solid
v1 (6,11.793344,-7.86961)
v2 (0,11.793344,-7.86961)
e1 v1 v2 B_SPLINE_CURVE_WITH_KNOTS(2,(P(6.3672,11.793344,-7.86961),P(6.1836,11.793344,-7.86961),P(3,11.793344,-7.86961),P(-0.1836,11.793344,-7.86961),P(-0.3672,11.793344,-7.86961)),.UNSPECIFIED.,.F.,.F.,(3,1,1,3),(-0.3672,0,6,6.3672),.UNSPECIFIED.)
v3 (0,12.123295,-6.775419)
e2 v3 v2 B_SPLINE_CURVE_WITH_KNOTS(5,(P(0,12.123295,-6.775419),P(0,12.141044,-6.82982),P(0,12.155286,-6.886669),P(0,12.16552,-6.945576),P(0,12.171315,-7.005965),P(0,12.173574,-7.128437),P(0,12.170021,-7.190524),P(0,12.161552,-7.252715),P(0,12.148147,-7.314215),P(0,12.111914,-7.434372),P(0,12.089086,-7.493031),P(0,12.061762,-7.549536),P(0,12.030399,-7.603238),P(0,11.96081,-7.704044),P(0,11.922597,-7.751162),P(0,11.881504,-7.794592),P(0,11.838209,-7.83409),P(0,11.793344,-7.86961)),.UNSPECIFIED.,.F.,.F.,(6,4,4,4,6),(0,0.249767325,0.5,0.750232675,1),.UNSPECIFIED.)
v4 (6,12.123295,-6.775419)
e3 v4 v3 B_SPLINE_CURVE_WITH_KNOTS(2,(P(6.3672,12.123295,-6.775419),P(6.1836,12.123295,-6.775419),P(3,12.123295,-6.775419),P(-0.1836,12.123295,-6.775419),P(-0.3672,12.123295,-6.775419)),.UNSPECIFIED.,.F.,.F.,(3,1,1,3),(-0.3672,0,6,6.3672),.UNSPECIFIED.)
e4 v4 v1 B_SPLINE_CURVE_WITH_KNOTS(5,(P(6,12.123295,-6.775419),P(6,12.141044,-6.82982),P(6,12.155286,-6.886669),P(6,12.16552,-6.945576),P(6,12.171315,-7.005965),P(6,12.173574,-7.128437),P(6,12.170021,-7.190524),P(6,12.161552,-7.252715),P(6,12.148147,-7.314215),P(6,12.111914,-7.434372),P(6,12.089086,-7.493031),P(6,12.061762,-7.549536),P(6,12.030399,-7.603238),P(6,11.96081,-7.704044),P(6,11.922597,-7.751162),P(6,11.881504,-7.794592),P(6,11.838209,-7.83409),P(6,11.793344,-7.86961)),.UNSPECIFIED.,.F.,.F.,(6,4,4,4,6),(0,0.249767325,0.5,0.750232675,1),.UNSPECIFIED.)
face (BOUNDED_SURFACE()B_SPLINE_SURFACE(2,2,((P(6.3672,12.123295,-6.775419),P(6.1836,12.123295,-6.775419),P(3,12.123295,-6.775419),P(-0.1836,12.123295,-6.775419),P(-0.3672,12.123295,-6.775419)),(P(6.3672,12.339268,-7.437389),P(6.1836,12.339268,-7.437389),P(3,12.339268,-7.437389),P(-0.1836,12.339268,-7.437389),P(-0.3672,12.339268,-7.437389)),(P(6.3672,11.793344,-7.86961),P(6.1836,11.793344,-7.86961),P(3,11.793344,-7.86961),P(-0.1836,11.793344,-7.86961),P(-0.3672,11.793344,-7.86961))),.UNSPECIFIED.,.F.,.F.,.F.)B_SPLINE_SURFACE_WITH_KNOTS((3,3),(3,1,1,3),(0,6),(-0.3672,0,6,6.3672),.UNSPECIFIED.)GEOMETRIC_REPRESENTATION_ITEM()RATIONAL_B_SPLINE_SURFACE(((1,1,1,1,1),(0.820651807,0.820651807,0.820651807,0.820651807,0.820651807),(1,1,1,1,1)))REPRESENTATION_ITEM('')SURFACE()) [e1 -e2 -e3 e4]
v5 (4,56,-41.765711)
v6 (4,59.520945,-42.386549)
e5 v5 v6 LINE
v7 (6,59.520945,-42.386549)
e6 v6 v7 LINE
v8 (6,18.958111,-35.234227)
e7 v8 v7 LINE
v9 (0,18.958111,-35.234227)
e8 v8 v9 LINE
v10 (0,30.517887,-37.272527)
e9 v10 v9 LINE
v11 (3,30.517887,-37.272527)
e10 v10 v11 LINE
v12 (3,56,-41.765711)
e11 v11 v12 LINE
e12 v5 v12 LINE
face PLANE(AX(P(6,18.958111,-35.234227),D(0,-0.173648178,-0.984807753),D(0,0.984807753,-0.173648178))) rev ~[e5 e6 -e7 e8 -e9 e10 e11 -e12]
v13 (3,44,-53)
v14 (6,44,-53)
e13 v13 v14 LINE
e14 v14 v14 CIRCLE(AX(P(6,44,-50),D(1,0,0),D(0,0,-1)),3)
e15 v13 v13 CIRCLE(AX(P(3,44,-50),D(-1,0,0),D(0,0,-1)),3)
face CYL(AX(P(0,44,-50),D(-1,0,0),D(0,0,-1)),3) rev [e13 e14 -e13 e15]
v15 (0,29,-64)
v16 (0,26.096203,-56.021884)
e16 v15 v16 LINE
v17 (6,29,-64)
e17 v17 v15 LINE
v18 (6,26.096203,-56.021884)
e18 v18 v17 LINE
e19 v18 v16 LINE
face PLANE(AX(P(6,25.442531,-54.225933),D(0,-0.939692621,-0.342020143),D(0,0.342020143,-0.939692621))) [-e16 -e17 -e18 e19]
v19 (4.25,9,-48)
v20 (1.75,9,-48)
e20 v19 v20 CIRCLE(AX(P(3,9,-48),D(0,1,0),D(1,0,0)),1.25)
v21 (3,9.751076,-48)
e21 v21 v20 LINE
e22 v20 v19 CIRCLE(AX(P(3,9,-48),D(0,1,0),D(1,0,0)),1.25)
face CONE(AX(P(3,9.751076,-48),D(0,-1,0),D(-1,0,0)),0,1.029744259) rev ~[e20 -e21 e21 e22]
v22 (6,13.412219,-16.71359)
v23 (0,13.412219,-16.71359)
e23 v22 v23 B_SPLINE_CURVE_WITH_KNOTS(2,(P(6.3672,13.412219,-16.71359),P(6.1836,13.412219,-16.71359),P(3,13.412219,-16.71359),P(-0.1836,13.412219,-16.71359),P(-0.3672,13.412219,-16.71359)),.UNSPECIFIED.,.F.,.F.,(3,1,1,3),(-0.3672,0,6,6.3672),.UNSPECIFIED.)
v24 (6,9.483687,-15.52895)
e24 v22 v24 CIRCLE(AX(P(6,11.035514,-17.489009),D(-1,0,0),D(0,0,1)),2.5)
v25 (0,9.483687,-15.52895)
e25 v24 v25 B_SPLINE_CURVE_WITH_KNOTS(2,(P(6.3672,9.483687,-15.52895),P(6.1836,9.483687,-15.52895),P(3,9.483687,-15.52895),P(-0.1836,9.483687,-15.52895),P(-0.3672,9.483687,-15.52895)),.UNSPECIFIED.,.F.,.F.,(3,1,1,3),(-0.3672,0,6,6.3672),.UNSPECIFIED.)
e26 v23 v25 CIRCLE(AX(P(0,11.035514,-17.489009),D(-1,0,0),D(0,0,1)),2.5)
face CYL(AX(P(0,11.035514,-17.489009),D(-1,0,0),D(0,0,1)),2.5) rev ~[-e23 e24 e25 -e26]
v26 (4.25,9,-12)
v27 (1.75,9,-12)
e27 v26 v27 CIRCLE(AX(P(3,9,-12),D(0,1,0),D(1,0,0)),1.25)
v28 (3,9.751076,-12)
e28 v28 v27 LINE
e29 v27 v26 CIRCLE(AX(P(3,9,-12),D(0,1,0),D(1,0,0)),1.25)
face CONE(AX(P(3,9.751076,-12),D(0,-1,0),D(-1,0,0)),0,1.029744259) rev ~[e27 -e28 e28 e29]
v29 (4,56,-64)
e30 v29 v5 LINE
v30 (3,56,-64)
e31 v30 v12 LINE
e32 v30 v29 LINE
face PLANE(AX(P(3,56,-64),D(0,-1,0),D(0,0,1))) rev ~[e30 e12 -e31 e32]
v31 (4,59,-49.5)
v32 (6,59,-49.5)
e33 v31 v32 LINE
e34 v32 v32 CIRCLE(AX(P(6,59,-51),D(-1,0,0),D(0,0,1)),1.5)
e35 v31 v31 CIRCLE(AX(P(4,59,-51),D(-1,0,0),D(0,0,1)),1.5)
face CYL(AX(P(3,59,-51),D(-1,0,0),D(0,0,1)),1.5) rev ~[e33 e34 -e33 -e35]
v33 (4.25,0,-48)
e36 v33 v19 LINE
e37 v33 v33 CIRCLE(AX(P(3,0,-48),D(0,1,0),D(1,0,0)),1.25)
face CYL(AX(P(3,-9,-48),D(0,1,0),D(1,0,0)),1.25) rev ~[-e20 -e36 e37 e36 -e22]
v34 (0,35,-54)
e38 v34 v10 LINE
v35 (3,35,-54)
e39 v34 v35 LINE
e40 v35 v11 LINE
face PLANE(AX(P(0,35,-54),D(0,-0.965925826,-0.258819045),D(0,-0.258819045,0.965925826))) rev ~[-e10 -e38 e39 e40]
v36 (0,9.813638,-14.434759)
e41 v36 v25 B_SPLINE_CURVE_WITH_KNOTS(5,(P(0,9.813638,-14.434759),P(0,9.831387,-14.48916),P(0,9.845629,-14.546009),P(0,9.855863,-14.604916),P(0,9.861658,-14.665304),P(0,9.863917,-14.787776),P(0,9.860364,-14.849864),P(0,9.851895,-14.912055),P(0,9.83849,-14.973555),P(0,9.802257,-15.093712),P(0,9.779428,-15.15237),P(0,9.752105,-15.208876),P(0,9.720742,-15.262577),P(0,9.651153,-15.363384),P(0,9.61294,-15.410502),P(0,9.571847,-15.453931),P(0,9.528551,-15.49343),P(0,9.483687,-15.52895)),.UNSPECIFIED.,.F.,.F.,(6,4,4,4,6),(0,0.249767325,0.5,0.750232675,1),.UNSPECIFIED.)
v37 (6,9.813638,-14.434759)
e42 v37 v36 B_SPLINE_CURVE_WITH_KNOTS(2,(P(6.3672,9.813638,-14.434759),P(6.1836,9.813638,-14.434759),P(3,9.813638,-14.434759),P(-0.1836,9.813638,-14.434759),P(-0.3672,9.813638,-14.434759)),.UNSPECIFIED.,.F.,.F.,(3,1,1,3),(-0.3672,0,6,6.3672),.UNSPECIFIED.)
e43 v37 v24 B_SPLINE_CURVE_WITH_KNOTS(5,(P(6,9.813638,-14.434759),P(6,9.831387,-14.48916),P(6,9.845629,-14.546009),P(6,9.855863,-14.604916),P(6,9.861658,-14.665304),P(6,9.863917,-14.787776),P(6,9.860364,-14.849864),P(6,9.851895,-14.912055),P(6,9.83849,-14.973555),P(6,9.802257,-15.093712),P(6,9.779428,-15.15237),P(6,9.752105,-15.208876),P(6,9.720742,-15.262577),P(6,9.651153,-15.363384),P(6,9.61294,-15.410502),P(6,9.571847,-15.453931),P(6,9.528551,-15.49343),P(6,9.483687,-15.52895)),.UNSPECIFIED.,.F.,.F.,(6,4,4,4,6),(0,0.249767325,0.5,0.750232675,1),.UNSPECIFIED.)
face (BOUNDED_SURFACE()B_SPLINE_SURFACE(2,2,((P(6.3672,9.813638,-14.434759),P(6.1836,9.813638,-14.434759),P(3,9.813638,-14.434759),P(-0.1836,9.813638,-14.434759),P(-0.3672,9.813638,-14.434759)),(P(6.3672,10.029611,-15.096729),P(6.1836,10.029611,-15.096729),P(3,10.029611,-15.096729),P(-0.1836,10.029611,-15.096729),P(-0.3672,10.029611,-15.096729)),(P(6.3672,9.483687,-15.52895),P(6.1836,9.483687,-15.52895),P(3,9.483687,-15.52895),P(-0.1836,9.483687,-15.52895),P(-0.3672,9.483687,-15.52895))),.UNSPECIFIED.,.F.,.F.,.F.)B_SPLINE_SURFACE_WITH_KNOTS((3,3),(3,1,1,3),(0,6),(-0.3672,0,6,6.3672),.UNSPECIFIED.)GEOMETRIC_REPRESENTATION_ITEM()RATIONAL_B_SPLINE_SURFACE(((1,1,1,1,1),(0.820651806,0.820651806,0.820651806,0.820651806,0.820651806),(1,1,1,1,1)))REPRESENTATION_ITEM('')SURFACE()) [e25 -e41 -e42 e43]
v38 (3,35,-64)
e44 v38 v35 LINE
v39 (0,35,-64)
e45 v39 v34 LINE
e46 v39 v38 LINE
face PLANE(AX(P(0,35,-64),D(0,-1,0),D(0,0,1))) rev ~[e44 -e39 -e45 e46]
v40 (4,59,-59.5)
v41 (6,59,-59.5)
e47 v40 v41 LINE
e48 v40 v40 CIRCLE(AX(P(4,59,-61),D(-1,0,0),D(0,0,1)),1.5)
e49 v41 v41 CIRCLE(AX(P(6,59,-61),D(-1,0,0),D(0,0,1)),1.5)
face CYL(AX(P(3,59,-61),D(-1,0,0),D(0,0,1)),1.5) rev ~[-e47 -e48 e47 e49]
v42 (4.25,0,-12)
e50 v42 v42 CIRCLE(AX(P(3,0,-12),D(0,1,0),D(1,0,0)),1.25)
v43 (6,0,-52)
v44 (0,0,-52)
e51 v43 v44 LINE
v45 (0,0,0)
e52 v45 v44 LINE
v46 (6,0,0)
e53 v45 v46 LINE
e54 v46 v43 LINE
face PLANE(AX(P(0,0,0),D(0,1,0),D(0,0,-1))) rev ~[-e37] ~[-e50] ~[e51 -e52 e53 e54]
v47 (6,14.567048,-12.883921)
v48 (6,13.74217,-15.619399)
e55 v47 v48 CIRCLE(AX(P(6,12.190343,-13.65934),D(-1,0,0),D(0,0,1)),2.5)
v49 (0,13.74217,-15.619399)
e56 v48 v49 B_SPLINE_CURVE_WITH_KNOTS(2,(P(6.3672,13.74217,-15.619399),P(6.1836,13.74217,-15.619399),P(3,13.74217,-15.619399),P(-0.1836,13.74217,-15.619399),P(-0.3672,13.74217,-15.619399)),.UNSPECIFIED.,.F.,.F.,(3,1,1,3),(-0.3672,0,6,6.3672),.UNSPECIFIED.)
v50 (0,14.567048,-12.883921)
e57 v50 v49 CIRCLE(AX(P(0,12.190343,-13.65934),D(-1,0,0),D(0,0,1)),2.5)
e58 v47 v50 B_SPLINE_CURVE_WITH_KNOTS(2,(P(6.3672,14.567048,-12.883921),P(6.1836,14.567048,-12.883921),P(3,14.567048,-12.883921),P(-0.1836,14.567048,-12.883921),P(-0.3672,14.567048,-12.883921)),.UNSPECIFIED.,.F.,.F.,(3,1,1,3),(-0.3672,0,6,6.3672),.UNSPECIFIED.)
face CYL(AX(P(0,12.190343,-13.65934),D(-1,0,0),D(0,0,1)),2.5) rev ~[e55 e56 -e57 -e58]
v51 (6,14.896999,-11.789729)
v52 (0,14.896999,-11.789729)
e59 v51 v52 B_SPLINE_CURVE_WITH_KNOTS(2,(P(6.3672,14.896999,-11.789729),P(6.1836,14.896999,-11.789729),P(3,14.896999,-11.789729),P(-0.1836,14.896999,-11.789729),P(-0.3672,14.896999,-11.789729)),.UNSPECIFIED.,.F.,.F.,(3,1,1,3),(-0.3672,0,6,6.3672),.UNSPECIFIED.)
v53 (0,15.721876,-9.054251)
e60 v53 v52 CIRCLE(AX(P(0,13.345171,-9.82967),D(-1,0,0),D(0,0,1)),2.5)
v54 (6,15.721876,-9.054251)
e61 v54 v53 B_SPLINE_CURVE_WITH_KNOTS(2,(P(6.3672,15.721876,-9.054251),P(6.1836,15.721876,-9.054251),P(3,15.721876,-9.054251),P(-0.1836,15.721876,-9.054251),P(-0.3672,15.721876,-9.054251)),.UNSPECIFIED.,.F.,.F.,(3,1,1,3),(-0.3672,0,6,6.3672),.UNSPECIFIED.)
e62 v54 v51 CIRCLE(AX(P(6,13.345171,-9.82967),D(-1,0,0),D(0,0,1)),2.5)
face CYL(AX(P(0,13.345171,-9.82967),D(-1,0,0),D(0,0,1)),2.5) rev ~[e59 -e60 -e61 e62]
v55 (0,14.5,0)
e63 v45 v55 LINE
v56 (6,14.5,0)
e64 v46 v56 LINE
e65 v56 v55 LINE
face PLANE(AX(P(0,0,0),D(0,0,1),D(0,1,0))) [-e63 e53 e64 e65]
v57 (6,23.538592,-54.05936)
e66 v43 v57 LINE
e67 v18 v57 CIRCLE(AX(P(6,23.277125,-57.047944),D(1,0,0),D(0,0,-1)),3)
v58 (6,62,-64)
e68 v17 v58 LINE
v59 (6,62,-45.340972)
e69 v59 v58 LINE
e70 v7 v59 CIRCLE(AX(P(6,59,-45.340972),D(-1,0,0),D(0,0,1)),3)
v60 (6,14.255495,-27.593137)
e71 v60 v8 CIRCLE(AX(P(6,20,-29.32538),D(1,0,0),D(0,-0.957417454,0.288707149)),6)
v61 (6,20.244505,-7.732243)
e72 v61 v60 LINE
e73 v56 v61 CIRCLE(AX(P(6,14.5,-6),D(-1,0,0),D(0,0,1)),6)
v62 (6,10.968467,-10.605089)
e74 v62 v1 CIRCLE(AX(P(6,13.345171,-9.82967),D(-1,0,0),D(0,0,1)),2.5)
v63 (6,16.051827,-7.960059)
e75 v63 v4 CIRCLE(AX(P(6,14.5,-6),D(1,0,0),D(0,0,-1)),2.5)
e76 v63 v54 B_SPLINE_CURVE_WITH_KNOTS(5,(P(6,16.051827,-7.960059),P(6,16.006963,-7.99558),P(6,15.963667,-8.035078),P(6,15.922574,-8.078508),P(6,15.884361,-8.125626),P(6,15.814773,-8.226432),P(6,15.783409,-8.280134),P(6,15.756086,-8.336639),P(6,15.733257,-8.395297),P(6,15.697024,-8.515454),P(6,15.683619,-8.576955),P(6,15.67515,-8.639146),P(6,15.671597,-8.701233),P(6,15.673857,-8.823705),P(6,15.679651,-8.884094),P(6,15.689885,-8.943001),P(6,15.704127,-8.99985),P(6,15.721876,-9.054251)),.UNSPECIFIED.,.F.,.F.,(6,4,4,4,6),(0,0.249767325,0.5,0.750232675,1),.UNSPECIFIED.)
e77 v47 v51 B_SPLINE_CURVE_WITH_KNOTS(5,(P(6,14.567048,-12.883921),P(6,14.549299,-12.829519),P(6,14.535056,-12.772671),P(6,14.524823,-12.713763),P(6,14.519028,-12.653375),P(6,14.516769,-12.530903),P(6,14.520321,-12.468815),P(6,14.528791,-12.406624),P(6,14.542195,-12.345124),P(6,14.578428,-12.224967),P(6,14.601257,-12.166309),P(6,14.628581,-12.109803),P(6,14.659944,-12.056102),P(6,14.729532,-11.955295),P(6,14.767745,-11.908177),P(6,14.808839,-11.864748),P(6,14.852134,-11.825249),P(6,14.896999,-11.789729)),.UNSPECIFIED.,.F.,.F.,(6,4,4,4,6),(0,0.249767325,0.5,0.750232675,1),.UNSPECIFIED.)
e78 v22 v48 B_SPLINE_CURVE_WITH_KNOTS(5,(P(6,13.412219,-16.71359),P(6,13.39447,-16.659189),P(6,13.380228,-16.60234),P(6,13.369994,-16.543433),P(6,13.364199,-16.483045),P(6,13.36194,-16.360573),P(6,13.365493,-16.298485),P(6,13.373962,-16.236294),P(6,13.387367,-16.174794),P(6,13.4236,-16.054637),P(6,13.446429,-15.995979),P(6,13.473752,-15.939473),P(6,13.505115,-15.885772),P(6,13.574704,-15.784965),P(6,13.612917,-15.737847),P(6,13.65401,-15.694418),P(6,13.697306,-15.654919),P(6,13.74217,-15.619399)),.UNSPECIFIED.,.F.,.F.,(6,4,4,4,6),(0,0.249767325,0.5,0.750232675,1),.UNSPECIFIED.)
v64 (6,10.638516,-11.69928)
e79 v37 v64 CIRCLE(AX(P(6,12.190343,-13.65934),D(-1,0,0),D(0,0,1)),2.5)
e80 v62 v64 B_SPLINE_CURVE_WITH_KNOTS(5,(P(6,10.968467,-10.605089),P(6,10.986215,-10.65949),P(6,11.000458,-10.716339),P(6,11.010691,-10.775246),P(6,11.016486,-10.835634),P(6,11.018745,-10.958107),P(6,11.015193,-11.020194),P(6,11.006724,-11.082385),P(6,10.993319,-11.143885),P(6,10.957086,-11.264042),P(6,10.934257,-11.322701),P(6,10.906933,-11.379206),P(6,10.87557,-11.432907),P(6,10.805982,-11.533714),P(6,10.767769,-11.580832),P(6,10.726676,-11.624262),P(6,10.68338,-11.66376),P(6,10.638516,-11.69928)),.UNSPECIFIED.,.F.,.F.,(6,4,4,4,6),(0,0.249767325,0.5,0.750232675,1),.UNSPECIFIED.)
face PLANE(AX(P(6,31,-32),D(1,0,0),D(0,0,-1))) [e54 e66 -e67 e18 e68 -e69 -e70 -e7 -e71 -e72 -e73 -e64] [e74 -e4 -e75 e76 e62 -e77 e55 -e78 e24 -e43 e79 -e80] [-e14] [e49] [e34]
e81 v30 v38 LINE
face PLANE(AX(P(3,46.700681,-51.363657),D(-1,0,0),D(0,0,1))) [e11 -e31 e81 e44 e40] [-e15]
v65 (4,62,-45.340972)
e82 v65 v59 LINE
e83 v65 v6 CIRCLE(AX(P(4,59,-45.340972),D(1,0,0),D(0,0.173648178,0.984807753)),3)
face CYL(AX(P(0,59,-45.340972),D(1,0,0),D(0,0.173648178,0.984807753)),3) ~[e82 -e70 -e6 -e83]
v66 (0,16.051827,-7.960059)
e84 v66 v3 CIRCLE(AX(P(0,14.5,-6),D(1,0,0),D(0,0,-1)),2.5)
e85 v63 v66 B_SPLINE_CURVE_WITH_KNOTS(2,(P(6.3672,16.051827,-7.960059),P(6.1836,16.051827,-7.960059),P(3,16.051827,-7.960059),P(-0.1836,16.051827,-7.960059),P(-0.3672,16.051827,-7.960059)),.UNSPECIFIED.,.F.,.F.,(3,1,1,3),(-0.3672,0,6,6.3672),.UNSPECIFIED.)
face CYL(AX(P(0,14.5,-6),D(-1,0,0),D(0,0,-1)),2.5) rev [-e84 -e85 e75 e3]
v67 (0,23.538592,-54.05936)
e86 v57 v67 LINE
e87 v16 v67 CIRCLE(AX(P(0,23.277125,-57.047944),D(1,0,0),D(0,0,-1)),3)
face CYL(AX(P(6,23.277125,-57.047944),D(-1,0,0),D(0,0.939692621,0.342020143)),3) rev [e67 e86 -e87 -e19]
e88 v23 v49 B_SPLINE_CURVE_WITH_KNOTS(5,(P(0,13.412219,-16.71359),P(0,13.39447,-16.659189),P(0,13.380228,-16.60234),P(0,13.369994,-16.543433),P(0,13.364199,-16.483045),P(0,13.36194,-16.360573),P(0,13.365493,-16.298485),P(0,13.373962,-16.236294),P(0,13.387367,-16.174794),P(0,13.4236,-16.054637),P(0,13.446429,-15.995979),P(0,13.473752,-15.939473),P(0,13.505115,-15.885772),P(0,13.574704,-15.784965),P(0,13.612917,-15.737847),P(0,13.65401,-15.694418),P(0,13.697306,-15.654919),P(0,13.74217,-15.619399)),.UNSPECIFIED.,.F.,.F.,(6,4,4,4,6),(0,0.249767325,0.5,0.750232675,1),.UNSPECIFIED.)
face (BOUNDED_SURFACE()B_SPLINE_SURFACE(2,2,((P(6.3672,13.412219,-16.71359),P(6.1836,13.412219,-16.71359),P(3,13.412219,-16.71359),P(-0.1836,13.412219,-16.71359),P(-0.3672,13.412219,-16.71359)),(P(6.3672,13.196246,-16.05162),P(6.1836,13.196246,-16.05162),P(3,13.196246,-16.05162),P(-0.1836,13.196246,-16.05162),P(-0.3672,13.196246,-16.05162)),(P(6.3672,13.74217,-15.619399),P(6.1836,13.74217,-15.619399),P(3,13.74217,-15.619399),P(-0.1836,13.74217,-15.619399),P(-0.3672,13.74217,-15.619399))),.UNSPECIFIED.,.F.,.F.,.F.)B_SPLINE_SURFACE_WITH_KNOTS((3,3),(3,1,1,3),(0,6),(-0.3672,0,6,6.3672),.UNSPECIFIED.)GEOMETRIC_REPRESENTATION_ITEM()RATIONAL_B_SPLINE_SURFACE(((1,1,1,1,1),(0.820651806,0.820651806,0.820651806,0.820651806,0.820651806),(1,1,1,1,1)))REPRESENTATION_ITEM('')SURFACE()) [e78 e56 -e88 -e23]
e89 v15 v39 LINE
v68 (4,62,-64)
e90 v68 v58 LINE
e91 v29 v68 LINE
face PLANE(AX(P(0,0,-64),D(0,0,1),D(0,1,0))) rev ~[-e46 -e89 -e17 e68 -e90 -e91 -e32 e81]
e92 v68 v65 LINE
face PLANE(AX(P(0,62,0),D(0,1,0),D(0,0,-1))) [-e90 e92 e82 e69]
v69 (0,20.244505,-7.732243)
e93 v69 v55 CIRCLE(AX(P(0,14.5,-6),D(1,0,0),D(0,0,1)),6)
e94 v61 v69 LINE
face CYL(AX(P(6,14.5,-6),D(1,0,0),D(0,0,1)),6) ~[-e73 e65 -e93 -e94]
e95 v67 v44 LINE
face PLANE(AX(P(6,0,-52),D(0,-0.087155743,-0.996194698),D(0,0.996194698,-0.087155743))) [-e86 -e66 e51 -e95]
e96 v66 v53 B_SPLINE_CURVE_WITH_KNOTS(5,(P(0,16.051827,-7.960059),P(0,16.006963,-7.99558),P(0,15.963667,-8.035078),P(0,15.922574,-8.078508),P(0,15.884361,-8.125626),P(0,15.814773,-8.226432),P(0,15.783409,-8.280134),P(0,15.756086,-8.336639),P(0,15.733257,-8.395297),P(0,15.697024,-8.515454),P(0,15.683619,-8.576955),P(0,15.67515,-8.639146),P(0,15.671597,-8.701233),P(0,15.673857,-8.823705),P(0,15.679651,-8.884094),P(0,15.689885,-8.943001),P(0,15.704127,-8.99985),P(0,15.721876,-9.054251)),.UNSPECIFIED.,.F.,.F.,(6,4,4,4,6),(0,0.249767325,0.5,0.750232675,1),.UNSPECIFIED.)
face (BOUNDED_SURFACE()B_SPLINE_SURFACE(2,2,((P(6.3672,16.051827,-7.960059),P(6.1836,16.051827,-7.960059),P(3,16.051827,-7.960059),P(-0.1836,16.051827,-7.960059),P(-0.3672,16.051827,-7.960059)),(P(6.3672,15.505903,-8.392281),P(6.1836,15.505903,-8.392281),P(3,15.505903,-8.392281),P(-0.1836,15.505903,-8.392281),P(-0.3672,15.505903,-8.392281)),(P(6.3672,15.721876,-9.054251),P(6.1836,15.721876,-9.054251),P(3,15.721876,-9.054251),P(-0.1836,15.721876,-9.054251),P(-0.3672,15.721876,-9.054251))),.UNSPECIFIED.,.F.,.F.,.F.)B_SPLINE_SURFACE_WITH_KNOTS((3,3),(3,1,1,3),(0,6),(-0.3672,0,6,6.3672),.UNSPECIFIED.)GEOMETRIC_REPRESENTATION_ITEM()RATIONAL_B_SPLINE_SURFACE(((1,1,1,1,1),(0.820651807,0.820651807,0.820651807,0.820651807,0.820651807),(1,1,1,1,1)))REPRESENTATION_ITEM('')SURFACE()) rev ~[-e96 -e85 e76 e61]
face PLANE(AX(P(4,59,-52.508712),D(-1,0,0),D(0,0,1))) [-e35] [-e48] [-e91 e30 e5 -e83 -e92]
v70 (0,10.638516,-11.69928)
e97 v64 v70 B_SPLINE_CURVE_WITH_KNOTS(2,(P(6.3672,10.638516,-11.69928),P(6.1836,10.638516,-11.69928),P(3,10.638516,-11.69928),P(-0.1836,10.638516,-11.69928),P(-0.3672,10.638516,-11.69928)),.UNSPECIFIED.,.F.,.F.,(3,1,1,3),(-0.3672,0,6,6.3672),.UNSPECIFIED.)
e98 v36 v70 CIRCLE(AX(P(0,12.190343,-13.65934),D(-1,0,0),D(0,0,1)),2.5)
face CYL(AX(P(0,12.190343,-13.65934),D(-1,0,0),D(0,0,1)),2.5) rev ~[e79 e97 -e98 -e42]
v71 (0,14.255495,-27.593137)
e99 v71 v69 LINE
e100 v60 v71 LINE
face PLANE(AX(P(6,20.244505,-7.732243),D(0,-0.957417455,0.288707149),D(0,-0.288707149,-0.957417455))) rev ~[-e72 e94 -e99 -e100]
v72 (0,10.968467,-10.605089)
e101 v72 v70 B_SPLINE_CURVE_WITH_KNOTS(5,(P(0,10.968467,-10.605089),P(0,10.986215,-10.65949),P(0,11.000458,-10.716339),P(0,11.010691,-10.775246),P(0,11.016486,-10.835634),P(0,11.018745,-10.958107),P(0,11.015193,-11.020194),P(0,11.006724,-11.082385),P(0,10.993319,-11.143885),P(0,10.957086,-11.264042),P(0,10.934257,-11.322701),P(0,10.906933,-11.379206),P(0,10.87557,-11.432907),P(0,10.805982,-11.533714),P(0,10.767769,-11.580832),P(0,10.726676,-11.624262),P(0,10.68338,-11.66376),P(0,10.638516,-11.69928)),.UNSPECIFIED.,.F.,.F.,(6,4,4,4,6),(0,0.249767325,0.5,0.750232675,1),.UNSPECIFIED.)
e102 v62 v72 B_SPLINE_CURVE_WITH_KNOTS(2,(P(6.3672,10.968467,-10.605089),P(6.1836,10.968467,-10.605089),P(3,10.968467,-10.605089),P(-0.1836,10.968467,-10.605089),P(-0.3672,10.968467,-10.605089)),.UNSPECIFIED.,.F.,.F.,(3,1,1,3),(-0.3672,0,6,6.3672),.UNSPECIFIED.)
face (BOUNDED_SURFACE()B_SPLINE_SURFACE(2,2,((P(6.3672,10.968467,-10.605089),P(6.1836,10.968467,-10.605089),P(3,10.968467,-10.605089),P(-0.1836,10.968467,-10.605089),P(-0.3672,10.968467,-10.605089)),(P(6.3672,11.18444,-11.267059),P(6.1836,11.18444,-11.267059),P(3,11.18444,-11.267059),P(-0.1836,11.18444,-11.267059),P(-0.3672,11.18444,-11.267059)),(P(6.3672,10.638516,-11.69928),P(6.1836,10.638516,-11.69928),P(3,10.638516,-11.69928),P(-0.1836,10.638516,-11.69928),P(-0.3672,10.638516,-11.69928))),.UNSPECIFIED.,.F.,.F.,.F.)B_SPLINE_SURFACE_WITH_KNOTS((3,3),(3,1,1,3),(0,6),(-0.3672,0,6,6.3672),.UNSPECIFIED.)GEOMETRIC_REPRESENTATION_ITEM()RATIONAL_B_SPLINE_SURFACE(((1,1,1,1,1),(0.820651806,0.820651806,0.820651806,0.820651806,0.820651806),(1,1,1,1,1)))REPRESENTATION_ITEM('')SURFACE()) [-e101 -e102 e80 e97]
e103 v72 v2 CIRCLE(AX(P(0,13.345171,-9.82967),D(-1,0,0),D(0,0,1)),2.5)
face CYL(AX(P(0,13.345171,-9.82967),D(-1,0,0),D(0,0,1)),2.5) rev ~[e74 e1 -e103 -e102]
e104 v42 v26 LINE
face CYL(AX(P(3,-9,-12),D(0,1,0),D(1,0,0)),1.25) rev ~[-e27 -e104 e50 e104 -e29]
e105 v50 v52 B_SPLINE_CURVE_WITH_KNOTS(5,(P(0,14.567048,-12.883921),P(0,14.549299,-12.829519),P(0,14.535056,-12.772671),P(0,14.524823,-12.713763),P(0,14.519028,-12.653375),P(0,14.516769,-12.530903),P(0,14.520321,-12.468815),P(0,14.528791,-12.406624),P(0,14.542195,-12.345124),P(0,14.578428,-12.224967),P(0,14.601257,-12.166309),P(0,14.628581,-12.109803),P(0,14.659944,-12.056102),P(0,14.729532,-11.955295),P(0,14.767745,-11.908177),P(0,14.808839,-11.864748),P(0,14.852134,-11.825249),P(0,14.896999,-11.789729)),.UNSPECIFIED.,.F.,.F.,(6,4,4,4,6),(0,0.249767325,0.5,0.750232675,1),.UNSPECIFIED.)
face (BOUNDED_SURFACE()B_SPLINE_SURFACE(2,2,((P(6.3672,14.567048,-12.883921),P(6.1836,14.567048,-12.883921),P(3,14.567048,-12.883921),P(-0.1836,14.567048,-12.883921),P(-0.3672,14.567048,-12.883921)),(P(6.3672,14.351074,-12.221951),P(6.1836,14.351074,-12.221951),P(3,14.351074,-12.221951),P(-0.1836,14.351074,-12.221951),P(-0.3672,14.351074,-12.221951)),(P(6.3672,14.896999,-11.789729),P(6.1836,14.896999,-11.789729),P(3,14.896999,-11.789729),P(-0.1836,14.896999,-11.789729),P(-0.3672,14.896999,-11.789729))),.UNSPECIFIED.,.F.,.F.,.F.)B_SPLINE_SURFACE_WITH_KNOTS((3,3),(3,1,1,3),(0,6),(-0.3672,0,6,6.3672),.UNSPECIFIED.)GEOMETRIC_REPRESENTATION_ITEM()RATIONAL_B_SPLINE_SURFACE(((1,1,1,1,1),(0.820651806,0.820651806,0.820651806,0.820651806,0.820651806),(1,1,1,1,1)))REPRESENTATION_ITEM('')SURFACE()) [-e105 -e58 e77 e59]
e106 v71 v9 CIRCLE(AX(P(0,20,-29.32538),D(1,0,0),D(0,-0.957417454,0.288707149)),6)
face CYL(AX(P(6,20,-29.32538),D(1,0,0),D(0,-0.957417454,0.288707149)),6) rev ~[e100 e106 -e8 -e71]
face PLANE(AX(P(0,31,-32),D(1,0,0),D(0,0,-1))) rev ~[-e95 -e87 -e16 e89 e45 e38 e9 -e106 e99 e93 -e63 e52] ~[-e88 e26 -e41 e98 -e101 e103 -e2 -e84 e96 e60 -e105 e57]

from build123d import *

# Parameters (mm, degrees)
SKETCH1_W                   = 64
SKETCH1_H                   = 62
SKETCH1_R                   = 2.5
SKETCH1_R_2                 = 3
BOSS_EXTRUDE1_DEPTH         = 6
CUT_EXTRUDE1_REACH          = 8
CUT_EXTRUDE2_REACH          = 8
FILLET1_R                   = 3
FILLET2_R                   = 3
TAP_DRILL_FOR_M3_TAP1_D     = 2.5
TAP_DRILL_FOR_M3_TAP1_DEPTH = 9
TAP_DRILL_FOR_M3_TAP1_TIP   = 0.751075774
CUT_EXTRUDE3_DEPTH          = 3
CUT_EXTRUDE4_REACH          = 5
SKETCH10_R                  = 1.5
SKETCH11_R                  = 2.5
CUT_EXTRUDE5_DEPTH          = 6
LPATTERN1_COUNT             = 3
LPATTERN1_PITCH             = 4
FILLET3_R                   = 1
SKETCH12_W                  = 22.982575198
SKETCH12_H                  = 6
CUT_EXTRUDE6_DEPTH          = 1


with BuildPart() as part:
    # Sketch1 → Boss-Extrude1 (new body)
    with BuildSketch(Plane(origin=(0, 0, 0), x_dir=(0, 0, -1), z_dir=(1, 0, 0))):
        with Locations((32, 31)):
            Rectangle(SKETCH1_W, SKETCH1_H)
        with Locations((6, 14.5)):
            Circle(SKETCH1_R, mode=Mode.SUBTRACT)
        with Locations((50, 44)):
            Circle(SKETCH1_R_2, mode=Mode.SUBTRACT)
    extrude(amount=BOSS_EXTRUDE1_DEPTH)

    # Sketch2 → Cut-Extrude1 (cut, up to next)
    with BuildSketch(Plane(origin=(6, 0, 0), x_dir=(0, 0, -1), z_dir=(1, 0, 0)), mode=Mode.PRIVATE) as cut_extrude1_sk1:
        with BuildLine():
            Line((7.732242893, 20.244504727), (27.593137265, 14.255495273))
            ThreePointArc((27.593137265, 14.255495273), (32.470162023, 14.890171527), (35.234226676, 18.958110934))
            Line((35.234226676, 18.958110934), (43, 63))
            Line((43, 63), (0, 63))
            Line((0, 63), (0, 14.5))
            ThreePointArc((0, 14.5), (2.421834084, 19.316298234), (7.732242893, 20.244504727))
        make_face()
    cut_extrude1_tool1 = extrude(cut_extrude1_sk1.sketch, amount=-CUT_EXTRUDE1_REACH, mode=Mode.PRIVATE) & part.part
    add(cut_extrude1_tool1.solids().sort_by_distance((6, 40.863189, -19.912877))[0], mode=Mode.SUBTRACT)

    # Sketch3 → Cut-Extrude2 (cut, up to next)
    with BuildSketch(Plane(origin=(6, 0, 0), x_dir=(0, 0, -1), z_dir=(1, 0, 0)), mode=Mode.PRIVATE) as cut_extrude2_sk1:
        Polygon((64, 0), (52, 0), (54.225932994, 25.442530542), (64, 29), align=None)
    cut_extrude2_tool1 = extrude(cut_extrude2_sk1.sketch, amount=-CUT_EXTRUDE2_REACH, mode=Mode.PRIVATE) & part.part
    add(cut_extrude2_tool1.solids().sort_by_distance((6, 13.1347, -58.667711))[0], mode=Mode.SUBTRACT)

    # Fillet1
    fillet1_edges = [part.edges().sort_by_distance(p)[0] for p in [
        (3, 62, -42.823673019),
    ]]
    fillet(fillet1_edges, radius=FILLET1_R)

    # Fillet2
    fillet2_edges = [part.edges().sort_by_distance(p)[0] for p in [
        (3, 25.442530542, -54.225932994),
    ]]
    fillet(fillet2_edges, radius=FILLET2_R)

    # Tap Drill for M3 Tap1
    with Locations(Plane(origin=(0, 0, 0), x_dir=(-1, 0, 0), z_dir=(0, -1, 0))):
        with Locations((-3, 48), (-3, 12)):
            Hole(TAP_DRILL_FOR_M3_TAP1_D / 2, depth=TAP_DRILL_FOR_M3_TAP1_DEPTH)
            with Locations((0, 0, -(TAP_DRILL_FOR_M3_TAP1_DEPTH + TAP_DRILL_FOR_M3_TAP1_TIP / 2))):  # 118° drill point
                Cone(0, TAP_DRILL_FOR_M3_TAP1_D / 2, TAP_DRILL_FOR_M3_TAP1_TIP, mode=Mode.SUBTRACT)

    # Sketch9 → Cut-Extrude3 (cut)
    with BuildSketch(Plane.ZY):
        Polygon((-64, 62), (-64, 35), (-54, 35), (-37.272527114, 30.517887149), (-42.823673019, 62), align=None)
    extrude(amount=-CUT_EXTRUDE3_DEPTH, mode=Mode.SUBTRACT)

    # Sketch10 → Cut-Extrude4 (cut, up to next)
    with BuildSketch(Plane.ZY.offset(-3), mode=Mode.PRIVATE) as cut_extrude4_sk1:
        with Locations((-61, 59)):
            Circle(SKETCH10_R)
    cut_extrude4_tool1 = extrude(cut_extrude4_sk1.sketch, amount=-CUT_EXTRUDE4_REACH, mode=Mode.PRIVATE) & part.part
    add(cut_extrude4_tool1.solids().sort_by_distance((3, 59, -61))[0], mode=Mode.SUBTRACT)
    # Sketch10 → Cut-Extrude4 (cut, up to next)
    with BuildSketch(Plane.ZY.offset(-3), mode=Mode.PRIVATE) as cut_extrude4_sk2:
        with Locations((-51, 59)):
            Circle(SKETCH10_R)
    cut_extrude4_tool2 = extrude(cut_extrude4_sk2.sketch, amount=-CUT_EXTRUDE4_REACH, mode=Mode.PRIVATE) & part.part
    add(cut_extrude4_tool2.solids().sort_by_distance((3, 59, -51))[0], mode=Mode.SUBTRACT)

    # Sketch11 → Cut-Extrude5 (cut)
    with BuildSketch(Plane.ZY):
        with Locations((-9.829669818, 13.345171405)):
            Circle(SKETCH11_R)
    cut_extrude5 = extrude(amount=-CUT_EXTRUDE5_DEPTH, mode=Mode.SUBTRACT)

    # LPattern1: Cut-Extrude5 ×3
    with Locations(*[Vector(0, -0.288707149, -0.957417455) * (i * LPATTERN1_PITCH) for i in range(1, LPATTERN1_COUNT)]):
        add(cut_extrude5, mode=Mode.SUBTRACT)

    # Fillet3
    fillet3_edges = [part.edges().sort_by_distance(p)[0] for p in [
        (3, 15.358711884, -8.347895632),
        (3, 12.486459521, -7.481774186),
        (3, 14.203883289, -12.17756545),
        (3, 11.331630925, -11.311444004),
        (3, 10.17680233, -15.141113822),
        (3, 13.049054694, -16.007235268),
    ]]
    fillet(fillet3_edges, radius=FILLET3_R)

    # Sketch12 → Cut-Extrude6 (cut)
    with BuildSketch(Plane.ZY.offset(-3)):
        with Locations((-52.508712401, 59)):
            Rectangle(SKETCH12_W, SKETCH12_H)
    extrude(amount=-CUT_EXTRUDE6_DEPTH, mode=Mode.SUBTRACT)


solid = part.part
